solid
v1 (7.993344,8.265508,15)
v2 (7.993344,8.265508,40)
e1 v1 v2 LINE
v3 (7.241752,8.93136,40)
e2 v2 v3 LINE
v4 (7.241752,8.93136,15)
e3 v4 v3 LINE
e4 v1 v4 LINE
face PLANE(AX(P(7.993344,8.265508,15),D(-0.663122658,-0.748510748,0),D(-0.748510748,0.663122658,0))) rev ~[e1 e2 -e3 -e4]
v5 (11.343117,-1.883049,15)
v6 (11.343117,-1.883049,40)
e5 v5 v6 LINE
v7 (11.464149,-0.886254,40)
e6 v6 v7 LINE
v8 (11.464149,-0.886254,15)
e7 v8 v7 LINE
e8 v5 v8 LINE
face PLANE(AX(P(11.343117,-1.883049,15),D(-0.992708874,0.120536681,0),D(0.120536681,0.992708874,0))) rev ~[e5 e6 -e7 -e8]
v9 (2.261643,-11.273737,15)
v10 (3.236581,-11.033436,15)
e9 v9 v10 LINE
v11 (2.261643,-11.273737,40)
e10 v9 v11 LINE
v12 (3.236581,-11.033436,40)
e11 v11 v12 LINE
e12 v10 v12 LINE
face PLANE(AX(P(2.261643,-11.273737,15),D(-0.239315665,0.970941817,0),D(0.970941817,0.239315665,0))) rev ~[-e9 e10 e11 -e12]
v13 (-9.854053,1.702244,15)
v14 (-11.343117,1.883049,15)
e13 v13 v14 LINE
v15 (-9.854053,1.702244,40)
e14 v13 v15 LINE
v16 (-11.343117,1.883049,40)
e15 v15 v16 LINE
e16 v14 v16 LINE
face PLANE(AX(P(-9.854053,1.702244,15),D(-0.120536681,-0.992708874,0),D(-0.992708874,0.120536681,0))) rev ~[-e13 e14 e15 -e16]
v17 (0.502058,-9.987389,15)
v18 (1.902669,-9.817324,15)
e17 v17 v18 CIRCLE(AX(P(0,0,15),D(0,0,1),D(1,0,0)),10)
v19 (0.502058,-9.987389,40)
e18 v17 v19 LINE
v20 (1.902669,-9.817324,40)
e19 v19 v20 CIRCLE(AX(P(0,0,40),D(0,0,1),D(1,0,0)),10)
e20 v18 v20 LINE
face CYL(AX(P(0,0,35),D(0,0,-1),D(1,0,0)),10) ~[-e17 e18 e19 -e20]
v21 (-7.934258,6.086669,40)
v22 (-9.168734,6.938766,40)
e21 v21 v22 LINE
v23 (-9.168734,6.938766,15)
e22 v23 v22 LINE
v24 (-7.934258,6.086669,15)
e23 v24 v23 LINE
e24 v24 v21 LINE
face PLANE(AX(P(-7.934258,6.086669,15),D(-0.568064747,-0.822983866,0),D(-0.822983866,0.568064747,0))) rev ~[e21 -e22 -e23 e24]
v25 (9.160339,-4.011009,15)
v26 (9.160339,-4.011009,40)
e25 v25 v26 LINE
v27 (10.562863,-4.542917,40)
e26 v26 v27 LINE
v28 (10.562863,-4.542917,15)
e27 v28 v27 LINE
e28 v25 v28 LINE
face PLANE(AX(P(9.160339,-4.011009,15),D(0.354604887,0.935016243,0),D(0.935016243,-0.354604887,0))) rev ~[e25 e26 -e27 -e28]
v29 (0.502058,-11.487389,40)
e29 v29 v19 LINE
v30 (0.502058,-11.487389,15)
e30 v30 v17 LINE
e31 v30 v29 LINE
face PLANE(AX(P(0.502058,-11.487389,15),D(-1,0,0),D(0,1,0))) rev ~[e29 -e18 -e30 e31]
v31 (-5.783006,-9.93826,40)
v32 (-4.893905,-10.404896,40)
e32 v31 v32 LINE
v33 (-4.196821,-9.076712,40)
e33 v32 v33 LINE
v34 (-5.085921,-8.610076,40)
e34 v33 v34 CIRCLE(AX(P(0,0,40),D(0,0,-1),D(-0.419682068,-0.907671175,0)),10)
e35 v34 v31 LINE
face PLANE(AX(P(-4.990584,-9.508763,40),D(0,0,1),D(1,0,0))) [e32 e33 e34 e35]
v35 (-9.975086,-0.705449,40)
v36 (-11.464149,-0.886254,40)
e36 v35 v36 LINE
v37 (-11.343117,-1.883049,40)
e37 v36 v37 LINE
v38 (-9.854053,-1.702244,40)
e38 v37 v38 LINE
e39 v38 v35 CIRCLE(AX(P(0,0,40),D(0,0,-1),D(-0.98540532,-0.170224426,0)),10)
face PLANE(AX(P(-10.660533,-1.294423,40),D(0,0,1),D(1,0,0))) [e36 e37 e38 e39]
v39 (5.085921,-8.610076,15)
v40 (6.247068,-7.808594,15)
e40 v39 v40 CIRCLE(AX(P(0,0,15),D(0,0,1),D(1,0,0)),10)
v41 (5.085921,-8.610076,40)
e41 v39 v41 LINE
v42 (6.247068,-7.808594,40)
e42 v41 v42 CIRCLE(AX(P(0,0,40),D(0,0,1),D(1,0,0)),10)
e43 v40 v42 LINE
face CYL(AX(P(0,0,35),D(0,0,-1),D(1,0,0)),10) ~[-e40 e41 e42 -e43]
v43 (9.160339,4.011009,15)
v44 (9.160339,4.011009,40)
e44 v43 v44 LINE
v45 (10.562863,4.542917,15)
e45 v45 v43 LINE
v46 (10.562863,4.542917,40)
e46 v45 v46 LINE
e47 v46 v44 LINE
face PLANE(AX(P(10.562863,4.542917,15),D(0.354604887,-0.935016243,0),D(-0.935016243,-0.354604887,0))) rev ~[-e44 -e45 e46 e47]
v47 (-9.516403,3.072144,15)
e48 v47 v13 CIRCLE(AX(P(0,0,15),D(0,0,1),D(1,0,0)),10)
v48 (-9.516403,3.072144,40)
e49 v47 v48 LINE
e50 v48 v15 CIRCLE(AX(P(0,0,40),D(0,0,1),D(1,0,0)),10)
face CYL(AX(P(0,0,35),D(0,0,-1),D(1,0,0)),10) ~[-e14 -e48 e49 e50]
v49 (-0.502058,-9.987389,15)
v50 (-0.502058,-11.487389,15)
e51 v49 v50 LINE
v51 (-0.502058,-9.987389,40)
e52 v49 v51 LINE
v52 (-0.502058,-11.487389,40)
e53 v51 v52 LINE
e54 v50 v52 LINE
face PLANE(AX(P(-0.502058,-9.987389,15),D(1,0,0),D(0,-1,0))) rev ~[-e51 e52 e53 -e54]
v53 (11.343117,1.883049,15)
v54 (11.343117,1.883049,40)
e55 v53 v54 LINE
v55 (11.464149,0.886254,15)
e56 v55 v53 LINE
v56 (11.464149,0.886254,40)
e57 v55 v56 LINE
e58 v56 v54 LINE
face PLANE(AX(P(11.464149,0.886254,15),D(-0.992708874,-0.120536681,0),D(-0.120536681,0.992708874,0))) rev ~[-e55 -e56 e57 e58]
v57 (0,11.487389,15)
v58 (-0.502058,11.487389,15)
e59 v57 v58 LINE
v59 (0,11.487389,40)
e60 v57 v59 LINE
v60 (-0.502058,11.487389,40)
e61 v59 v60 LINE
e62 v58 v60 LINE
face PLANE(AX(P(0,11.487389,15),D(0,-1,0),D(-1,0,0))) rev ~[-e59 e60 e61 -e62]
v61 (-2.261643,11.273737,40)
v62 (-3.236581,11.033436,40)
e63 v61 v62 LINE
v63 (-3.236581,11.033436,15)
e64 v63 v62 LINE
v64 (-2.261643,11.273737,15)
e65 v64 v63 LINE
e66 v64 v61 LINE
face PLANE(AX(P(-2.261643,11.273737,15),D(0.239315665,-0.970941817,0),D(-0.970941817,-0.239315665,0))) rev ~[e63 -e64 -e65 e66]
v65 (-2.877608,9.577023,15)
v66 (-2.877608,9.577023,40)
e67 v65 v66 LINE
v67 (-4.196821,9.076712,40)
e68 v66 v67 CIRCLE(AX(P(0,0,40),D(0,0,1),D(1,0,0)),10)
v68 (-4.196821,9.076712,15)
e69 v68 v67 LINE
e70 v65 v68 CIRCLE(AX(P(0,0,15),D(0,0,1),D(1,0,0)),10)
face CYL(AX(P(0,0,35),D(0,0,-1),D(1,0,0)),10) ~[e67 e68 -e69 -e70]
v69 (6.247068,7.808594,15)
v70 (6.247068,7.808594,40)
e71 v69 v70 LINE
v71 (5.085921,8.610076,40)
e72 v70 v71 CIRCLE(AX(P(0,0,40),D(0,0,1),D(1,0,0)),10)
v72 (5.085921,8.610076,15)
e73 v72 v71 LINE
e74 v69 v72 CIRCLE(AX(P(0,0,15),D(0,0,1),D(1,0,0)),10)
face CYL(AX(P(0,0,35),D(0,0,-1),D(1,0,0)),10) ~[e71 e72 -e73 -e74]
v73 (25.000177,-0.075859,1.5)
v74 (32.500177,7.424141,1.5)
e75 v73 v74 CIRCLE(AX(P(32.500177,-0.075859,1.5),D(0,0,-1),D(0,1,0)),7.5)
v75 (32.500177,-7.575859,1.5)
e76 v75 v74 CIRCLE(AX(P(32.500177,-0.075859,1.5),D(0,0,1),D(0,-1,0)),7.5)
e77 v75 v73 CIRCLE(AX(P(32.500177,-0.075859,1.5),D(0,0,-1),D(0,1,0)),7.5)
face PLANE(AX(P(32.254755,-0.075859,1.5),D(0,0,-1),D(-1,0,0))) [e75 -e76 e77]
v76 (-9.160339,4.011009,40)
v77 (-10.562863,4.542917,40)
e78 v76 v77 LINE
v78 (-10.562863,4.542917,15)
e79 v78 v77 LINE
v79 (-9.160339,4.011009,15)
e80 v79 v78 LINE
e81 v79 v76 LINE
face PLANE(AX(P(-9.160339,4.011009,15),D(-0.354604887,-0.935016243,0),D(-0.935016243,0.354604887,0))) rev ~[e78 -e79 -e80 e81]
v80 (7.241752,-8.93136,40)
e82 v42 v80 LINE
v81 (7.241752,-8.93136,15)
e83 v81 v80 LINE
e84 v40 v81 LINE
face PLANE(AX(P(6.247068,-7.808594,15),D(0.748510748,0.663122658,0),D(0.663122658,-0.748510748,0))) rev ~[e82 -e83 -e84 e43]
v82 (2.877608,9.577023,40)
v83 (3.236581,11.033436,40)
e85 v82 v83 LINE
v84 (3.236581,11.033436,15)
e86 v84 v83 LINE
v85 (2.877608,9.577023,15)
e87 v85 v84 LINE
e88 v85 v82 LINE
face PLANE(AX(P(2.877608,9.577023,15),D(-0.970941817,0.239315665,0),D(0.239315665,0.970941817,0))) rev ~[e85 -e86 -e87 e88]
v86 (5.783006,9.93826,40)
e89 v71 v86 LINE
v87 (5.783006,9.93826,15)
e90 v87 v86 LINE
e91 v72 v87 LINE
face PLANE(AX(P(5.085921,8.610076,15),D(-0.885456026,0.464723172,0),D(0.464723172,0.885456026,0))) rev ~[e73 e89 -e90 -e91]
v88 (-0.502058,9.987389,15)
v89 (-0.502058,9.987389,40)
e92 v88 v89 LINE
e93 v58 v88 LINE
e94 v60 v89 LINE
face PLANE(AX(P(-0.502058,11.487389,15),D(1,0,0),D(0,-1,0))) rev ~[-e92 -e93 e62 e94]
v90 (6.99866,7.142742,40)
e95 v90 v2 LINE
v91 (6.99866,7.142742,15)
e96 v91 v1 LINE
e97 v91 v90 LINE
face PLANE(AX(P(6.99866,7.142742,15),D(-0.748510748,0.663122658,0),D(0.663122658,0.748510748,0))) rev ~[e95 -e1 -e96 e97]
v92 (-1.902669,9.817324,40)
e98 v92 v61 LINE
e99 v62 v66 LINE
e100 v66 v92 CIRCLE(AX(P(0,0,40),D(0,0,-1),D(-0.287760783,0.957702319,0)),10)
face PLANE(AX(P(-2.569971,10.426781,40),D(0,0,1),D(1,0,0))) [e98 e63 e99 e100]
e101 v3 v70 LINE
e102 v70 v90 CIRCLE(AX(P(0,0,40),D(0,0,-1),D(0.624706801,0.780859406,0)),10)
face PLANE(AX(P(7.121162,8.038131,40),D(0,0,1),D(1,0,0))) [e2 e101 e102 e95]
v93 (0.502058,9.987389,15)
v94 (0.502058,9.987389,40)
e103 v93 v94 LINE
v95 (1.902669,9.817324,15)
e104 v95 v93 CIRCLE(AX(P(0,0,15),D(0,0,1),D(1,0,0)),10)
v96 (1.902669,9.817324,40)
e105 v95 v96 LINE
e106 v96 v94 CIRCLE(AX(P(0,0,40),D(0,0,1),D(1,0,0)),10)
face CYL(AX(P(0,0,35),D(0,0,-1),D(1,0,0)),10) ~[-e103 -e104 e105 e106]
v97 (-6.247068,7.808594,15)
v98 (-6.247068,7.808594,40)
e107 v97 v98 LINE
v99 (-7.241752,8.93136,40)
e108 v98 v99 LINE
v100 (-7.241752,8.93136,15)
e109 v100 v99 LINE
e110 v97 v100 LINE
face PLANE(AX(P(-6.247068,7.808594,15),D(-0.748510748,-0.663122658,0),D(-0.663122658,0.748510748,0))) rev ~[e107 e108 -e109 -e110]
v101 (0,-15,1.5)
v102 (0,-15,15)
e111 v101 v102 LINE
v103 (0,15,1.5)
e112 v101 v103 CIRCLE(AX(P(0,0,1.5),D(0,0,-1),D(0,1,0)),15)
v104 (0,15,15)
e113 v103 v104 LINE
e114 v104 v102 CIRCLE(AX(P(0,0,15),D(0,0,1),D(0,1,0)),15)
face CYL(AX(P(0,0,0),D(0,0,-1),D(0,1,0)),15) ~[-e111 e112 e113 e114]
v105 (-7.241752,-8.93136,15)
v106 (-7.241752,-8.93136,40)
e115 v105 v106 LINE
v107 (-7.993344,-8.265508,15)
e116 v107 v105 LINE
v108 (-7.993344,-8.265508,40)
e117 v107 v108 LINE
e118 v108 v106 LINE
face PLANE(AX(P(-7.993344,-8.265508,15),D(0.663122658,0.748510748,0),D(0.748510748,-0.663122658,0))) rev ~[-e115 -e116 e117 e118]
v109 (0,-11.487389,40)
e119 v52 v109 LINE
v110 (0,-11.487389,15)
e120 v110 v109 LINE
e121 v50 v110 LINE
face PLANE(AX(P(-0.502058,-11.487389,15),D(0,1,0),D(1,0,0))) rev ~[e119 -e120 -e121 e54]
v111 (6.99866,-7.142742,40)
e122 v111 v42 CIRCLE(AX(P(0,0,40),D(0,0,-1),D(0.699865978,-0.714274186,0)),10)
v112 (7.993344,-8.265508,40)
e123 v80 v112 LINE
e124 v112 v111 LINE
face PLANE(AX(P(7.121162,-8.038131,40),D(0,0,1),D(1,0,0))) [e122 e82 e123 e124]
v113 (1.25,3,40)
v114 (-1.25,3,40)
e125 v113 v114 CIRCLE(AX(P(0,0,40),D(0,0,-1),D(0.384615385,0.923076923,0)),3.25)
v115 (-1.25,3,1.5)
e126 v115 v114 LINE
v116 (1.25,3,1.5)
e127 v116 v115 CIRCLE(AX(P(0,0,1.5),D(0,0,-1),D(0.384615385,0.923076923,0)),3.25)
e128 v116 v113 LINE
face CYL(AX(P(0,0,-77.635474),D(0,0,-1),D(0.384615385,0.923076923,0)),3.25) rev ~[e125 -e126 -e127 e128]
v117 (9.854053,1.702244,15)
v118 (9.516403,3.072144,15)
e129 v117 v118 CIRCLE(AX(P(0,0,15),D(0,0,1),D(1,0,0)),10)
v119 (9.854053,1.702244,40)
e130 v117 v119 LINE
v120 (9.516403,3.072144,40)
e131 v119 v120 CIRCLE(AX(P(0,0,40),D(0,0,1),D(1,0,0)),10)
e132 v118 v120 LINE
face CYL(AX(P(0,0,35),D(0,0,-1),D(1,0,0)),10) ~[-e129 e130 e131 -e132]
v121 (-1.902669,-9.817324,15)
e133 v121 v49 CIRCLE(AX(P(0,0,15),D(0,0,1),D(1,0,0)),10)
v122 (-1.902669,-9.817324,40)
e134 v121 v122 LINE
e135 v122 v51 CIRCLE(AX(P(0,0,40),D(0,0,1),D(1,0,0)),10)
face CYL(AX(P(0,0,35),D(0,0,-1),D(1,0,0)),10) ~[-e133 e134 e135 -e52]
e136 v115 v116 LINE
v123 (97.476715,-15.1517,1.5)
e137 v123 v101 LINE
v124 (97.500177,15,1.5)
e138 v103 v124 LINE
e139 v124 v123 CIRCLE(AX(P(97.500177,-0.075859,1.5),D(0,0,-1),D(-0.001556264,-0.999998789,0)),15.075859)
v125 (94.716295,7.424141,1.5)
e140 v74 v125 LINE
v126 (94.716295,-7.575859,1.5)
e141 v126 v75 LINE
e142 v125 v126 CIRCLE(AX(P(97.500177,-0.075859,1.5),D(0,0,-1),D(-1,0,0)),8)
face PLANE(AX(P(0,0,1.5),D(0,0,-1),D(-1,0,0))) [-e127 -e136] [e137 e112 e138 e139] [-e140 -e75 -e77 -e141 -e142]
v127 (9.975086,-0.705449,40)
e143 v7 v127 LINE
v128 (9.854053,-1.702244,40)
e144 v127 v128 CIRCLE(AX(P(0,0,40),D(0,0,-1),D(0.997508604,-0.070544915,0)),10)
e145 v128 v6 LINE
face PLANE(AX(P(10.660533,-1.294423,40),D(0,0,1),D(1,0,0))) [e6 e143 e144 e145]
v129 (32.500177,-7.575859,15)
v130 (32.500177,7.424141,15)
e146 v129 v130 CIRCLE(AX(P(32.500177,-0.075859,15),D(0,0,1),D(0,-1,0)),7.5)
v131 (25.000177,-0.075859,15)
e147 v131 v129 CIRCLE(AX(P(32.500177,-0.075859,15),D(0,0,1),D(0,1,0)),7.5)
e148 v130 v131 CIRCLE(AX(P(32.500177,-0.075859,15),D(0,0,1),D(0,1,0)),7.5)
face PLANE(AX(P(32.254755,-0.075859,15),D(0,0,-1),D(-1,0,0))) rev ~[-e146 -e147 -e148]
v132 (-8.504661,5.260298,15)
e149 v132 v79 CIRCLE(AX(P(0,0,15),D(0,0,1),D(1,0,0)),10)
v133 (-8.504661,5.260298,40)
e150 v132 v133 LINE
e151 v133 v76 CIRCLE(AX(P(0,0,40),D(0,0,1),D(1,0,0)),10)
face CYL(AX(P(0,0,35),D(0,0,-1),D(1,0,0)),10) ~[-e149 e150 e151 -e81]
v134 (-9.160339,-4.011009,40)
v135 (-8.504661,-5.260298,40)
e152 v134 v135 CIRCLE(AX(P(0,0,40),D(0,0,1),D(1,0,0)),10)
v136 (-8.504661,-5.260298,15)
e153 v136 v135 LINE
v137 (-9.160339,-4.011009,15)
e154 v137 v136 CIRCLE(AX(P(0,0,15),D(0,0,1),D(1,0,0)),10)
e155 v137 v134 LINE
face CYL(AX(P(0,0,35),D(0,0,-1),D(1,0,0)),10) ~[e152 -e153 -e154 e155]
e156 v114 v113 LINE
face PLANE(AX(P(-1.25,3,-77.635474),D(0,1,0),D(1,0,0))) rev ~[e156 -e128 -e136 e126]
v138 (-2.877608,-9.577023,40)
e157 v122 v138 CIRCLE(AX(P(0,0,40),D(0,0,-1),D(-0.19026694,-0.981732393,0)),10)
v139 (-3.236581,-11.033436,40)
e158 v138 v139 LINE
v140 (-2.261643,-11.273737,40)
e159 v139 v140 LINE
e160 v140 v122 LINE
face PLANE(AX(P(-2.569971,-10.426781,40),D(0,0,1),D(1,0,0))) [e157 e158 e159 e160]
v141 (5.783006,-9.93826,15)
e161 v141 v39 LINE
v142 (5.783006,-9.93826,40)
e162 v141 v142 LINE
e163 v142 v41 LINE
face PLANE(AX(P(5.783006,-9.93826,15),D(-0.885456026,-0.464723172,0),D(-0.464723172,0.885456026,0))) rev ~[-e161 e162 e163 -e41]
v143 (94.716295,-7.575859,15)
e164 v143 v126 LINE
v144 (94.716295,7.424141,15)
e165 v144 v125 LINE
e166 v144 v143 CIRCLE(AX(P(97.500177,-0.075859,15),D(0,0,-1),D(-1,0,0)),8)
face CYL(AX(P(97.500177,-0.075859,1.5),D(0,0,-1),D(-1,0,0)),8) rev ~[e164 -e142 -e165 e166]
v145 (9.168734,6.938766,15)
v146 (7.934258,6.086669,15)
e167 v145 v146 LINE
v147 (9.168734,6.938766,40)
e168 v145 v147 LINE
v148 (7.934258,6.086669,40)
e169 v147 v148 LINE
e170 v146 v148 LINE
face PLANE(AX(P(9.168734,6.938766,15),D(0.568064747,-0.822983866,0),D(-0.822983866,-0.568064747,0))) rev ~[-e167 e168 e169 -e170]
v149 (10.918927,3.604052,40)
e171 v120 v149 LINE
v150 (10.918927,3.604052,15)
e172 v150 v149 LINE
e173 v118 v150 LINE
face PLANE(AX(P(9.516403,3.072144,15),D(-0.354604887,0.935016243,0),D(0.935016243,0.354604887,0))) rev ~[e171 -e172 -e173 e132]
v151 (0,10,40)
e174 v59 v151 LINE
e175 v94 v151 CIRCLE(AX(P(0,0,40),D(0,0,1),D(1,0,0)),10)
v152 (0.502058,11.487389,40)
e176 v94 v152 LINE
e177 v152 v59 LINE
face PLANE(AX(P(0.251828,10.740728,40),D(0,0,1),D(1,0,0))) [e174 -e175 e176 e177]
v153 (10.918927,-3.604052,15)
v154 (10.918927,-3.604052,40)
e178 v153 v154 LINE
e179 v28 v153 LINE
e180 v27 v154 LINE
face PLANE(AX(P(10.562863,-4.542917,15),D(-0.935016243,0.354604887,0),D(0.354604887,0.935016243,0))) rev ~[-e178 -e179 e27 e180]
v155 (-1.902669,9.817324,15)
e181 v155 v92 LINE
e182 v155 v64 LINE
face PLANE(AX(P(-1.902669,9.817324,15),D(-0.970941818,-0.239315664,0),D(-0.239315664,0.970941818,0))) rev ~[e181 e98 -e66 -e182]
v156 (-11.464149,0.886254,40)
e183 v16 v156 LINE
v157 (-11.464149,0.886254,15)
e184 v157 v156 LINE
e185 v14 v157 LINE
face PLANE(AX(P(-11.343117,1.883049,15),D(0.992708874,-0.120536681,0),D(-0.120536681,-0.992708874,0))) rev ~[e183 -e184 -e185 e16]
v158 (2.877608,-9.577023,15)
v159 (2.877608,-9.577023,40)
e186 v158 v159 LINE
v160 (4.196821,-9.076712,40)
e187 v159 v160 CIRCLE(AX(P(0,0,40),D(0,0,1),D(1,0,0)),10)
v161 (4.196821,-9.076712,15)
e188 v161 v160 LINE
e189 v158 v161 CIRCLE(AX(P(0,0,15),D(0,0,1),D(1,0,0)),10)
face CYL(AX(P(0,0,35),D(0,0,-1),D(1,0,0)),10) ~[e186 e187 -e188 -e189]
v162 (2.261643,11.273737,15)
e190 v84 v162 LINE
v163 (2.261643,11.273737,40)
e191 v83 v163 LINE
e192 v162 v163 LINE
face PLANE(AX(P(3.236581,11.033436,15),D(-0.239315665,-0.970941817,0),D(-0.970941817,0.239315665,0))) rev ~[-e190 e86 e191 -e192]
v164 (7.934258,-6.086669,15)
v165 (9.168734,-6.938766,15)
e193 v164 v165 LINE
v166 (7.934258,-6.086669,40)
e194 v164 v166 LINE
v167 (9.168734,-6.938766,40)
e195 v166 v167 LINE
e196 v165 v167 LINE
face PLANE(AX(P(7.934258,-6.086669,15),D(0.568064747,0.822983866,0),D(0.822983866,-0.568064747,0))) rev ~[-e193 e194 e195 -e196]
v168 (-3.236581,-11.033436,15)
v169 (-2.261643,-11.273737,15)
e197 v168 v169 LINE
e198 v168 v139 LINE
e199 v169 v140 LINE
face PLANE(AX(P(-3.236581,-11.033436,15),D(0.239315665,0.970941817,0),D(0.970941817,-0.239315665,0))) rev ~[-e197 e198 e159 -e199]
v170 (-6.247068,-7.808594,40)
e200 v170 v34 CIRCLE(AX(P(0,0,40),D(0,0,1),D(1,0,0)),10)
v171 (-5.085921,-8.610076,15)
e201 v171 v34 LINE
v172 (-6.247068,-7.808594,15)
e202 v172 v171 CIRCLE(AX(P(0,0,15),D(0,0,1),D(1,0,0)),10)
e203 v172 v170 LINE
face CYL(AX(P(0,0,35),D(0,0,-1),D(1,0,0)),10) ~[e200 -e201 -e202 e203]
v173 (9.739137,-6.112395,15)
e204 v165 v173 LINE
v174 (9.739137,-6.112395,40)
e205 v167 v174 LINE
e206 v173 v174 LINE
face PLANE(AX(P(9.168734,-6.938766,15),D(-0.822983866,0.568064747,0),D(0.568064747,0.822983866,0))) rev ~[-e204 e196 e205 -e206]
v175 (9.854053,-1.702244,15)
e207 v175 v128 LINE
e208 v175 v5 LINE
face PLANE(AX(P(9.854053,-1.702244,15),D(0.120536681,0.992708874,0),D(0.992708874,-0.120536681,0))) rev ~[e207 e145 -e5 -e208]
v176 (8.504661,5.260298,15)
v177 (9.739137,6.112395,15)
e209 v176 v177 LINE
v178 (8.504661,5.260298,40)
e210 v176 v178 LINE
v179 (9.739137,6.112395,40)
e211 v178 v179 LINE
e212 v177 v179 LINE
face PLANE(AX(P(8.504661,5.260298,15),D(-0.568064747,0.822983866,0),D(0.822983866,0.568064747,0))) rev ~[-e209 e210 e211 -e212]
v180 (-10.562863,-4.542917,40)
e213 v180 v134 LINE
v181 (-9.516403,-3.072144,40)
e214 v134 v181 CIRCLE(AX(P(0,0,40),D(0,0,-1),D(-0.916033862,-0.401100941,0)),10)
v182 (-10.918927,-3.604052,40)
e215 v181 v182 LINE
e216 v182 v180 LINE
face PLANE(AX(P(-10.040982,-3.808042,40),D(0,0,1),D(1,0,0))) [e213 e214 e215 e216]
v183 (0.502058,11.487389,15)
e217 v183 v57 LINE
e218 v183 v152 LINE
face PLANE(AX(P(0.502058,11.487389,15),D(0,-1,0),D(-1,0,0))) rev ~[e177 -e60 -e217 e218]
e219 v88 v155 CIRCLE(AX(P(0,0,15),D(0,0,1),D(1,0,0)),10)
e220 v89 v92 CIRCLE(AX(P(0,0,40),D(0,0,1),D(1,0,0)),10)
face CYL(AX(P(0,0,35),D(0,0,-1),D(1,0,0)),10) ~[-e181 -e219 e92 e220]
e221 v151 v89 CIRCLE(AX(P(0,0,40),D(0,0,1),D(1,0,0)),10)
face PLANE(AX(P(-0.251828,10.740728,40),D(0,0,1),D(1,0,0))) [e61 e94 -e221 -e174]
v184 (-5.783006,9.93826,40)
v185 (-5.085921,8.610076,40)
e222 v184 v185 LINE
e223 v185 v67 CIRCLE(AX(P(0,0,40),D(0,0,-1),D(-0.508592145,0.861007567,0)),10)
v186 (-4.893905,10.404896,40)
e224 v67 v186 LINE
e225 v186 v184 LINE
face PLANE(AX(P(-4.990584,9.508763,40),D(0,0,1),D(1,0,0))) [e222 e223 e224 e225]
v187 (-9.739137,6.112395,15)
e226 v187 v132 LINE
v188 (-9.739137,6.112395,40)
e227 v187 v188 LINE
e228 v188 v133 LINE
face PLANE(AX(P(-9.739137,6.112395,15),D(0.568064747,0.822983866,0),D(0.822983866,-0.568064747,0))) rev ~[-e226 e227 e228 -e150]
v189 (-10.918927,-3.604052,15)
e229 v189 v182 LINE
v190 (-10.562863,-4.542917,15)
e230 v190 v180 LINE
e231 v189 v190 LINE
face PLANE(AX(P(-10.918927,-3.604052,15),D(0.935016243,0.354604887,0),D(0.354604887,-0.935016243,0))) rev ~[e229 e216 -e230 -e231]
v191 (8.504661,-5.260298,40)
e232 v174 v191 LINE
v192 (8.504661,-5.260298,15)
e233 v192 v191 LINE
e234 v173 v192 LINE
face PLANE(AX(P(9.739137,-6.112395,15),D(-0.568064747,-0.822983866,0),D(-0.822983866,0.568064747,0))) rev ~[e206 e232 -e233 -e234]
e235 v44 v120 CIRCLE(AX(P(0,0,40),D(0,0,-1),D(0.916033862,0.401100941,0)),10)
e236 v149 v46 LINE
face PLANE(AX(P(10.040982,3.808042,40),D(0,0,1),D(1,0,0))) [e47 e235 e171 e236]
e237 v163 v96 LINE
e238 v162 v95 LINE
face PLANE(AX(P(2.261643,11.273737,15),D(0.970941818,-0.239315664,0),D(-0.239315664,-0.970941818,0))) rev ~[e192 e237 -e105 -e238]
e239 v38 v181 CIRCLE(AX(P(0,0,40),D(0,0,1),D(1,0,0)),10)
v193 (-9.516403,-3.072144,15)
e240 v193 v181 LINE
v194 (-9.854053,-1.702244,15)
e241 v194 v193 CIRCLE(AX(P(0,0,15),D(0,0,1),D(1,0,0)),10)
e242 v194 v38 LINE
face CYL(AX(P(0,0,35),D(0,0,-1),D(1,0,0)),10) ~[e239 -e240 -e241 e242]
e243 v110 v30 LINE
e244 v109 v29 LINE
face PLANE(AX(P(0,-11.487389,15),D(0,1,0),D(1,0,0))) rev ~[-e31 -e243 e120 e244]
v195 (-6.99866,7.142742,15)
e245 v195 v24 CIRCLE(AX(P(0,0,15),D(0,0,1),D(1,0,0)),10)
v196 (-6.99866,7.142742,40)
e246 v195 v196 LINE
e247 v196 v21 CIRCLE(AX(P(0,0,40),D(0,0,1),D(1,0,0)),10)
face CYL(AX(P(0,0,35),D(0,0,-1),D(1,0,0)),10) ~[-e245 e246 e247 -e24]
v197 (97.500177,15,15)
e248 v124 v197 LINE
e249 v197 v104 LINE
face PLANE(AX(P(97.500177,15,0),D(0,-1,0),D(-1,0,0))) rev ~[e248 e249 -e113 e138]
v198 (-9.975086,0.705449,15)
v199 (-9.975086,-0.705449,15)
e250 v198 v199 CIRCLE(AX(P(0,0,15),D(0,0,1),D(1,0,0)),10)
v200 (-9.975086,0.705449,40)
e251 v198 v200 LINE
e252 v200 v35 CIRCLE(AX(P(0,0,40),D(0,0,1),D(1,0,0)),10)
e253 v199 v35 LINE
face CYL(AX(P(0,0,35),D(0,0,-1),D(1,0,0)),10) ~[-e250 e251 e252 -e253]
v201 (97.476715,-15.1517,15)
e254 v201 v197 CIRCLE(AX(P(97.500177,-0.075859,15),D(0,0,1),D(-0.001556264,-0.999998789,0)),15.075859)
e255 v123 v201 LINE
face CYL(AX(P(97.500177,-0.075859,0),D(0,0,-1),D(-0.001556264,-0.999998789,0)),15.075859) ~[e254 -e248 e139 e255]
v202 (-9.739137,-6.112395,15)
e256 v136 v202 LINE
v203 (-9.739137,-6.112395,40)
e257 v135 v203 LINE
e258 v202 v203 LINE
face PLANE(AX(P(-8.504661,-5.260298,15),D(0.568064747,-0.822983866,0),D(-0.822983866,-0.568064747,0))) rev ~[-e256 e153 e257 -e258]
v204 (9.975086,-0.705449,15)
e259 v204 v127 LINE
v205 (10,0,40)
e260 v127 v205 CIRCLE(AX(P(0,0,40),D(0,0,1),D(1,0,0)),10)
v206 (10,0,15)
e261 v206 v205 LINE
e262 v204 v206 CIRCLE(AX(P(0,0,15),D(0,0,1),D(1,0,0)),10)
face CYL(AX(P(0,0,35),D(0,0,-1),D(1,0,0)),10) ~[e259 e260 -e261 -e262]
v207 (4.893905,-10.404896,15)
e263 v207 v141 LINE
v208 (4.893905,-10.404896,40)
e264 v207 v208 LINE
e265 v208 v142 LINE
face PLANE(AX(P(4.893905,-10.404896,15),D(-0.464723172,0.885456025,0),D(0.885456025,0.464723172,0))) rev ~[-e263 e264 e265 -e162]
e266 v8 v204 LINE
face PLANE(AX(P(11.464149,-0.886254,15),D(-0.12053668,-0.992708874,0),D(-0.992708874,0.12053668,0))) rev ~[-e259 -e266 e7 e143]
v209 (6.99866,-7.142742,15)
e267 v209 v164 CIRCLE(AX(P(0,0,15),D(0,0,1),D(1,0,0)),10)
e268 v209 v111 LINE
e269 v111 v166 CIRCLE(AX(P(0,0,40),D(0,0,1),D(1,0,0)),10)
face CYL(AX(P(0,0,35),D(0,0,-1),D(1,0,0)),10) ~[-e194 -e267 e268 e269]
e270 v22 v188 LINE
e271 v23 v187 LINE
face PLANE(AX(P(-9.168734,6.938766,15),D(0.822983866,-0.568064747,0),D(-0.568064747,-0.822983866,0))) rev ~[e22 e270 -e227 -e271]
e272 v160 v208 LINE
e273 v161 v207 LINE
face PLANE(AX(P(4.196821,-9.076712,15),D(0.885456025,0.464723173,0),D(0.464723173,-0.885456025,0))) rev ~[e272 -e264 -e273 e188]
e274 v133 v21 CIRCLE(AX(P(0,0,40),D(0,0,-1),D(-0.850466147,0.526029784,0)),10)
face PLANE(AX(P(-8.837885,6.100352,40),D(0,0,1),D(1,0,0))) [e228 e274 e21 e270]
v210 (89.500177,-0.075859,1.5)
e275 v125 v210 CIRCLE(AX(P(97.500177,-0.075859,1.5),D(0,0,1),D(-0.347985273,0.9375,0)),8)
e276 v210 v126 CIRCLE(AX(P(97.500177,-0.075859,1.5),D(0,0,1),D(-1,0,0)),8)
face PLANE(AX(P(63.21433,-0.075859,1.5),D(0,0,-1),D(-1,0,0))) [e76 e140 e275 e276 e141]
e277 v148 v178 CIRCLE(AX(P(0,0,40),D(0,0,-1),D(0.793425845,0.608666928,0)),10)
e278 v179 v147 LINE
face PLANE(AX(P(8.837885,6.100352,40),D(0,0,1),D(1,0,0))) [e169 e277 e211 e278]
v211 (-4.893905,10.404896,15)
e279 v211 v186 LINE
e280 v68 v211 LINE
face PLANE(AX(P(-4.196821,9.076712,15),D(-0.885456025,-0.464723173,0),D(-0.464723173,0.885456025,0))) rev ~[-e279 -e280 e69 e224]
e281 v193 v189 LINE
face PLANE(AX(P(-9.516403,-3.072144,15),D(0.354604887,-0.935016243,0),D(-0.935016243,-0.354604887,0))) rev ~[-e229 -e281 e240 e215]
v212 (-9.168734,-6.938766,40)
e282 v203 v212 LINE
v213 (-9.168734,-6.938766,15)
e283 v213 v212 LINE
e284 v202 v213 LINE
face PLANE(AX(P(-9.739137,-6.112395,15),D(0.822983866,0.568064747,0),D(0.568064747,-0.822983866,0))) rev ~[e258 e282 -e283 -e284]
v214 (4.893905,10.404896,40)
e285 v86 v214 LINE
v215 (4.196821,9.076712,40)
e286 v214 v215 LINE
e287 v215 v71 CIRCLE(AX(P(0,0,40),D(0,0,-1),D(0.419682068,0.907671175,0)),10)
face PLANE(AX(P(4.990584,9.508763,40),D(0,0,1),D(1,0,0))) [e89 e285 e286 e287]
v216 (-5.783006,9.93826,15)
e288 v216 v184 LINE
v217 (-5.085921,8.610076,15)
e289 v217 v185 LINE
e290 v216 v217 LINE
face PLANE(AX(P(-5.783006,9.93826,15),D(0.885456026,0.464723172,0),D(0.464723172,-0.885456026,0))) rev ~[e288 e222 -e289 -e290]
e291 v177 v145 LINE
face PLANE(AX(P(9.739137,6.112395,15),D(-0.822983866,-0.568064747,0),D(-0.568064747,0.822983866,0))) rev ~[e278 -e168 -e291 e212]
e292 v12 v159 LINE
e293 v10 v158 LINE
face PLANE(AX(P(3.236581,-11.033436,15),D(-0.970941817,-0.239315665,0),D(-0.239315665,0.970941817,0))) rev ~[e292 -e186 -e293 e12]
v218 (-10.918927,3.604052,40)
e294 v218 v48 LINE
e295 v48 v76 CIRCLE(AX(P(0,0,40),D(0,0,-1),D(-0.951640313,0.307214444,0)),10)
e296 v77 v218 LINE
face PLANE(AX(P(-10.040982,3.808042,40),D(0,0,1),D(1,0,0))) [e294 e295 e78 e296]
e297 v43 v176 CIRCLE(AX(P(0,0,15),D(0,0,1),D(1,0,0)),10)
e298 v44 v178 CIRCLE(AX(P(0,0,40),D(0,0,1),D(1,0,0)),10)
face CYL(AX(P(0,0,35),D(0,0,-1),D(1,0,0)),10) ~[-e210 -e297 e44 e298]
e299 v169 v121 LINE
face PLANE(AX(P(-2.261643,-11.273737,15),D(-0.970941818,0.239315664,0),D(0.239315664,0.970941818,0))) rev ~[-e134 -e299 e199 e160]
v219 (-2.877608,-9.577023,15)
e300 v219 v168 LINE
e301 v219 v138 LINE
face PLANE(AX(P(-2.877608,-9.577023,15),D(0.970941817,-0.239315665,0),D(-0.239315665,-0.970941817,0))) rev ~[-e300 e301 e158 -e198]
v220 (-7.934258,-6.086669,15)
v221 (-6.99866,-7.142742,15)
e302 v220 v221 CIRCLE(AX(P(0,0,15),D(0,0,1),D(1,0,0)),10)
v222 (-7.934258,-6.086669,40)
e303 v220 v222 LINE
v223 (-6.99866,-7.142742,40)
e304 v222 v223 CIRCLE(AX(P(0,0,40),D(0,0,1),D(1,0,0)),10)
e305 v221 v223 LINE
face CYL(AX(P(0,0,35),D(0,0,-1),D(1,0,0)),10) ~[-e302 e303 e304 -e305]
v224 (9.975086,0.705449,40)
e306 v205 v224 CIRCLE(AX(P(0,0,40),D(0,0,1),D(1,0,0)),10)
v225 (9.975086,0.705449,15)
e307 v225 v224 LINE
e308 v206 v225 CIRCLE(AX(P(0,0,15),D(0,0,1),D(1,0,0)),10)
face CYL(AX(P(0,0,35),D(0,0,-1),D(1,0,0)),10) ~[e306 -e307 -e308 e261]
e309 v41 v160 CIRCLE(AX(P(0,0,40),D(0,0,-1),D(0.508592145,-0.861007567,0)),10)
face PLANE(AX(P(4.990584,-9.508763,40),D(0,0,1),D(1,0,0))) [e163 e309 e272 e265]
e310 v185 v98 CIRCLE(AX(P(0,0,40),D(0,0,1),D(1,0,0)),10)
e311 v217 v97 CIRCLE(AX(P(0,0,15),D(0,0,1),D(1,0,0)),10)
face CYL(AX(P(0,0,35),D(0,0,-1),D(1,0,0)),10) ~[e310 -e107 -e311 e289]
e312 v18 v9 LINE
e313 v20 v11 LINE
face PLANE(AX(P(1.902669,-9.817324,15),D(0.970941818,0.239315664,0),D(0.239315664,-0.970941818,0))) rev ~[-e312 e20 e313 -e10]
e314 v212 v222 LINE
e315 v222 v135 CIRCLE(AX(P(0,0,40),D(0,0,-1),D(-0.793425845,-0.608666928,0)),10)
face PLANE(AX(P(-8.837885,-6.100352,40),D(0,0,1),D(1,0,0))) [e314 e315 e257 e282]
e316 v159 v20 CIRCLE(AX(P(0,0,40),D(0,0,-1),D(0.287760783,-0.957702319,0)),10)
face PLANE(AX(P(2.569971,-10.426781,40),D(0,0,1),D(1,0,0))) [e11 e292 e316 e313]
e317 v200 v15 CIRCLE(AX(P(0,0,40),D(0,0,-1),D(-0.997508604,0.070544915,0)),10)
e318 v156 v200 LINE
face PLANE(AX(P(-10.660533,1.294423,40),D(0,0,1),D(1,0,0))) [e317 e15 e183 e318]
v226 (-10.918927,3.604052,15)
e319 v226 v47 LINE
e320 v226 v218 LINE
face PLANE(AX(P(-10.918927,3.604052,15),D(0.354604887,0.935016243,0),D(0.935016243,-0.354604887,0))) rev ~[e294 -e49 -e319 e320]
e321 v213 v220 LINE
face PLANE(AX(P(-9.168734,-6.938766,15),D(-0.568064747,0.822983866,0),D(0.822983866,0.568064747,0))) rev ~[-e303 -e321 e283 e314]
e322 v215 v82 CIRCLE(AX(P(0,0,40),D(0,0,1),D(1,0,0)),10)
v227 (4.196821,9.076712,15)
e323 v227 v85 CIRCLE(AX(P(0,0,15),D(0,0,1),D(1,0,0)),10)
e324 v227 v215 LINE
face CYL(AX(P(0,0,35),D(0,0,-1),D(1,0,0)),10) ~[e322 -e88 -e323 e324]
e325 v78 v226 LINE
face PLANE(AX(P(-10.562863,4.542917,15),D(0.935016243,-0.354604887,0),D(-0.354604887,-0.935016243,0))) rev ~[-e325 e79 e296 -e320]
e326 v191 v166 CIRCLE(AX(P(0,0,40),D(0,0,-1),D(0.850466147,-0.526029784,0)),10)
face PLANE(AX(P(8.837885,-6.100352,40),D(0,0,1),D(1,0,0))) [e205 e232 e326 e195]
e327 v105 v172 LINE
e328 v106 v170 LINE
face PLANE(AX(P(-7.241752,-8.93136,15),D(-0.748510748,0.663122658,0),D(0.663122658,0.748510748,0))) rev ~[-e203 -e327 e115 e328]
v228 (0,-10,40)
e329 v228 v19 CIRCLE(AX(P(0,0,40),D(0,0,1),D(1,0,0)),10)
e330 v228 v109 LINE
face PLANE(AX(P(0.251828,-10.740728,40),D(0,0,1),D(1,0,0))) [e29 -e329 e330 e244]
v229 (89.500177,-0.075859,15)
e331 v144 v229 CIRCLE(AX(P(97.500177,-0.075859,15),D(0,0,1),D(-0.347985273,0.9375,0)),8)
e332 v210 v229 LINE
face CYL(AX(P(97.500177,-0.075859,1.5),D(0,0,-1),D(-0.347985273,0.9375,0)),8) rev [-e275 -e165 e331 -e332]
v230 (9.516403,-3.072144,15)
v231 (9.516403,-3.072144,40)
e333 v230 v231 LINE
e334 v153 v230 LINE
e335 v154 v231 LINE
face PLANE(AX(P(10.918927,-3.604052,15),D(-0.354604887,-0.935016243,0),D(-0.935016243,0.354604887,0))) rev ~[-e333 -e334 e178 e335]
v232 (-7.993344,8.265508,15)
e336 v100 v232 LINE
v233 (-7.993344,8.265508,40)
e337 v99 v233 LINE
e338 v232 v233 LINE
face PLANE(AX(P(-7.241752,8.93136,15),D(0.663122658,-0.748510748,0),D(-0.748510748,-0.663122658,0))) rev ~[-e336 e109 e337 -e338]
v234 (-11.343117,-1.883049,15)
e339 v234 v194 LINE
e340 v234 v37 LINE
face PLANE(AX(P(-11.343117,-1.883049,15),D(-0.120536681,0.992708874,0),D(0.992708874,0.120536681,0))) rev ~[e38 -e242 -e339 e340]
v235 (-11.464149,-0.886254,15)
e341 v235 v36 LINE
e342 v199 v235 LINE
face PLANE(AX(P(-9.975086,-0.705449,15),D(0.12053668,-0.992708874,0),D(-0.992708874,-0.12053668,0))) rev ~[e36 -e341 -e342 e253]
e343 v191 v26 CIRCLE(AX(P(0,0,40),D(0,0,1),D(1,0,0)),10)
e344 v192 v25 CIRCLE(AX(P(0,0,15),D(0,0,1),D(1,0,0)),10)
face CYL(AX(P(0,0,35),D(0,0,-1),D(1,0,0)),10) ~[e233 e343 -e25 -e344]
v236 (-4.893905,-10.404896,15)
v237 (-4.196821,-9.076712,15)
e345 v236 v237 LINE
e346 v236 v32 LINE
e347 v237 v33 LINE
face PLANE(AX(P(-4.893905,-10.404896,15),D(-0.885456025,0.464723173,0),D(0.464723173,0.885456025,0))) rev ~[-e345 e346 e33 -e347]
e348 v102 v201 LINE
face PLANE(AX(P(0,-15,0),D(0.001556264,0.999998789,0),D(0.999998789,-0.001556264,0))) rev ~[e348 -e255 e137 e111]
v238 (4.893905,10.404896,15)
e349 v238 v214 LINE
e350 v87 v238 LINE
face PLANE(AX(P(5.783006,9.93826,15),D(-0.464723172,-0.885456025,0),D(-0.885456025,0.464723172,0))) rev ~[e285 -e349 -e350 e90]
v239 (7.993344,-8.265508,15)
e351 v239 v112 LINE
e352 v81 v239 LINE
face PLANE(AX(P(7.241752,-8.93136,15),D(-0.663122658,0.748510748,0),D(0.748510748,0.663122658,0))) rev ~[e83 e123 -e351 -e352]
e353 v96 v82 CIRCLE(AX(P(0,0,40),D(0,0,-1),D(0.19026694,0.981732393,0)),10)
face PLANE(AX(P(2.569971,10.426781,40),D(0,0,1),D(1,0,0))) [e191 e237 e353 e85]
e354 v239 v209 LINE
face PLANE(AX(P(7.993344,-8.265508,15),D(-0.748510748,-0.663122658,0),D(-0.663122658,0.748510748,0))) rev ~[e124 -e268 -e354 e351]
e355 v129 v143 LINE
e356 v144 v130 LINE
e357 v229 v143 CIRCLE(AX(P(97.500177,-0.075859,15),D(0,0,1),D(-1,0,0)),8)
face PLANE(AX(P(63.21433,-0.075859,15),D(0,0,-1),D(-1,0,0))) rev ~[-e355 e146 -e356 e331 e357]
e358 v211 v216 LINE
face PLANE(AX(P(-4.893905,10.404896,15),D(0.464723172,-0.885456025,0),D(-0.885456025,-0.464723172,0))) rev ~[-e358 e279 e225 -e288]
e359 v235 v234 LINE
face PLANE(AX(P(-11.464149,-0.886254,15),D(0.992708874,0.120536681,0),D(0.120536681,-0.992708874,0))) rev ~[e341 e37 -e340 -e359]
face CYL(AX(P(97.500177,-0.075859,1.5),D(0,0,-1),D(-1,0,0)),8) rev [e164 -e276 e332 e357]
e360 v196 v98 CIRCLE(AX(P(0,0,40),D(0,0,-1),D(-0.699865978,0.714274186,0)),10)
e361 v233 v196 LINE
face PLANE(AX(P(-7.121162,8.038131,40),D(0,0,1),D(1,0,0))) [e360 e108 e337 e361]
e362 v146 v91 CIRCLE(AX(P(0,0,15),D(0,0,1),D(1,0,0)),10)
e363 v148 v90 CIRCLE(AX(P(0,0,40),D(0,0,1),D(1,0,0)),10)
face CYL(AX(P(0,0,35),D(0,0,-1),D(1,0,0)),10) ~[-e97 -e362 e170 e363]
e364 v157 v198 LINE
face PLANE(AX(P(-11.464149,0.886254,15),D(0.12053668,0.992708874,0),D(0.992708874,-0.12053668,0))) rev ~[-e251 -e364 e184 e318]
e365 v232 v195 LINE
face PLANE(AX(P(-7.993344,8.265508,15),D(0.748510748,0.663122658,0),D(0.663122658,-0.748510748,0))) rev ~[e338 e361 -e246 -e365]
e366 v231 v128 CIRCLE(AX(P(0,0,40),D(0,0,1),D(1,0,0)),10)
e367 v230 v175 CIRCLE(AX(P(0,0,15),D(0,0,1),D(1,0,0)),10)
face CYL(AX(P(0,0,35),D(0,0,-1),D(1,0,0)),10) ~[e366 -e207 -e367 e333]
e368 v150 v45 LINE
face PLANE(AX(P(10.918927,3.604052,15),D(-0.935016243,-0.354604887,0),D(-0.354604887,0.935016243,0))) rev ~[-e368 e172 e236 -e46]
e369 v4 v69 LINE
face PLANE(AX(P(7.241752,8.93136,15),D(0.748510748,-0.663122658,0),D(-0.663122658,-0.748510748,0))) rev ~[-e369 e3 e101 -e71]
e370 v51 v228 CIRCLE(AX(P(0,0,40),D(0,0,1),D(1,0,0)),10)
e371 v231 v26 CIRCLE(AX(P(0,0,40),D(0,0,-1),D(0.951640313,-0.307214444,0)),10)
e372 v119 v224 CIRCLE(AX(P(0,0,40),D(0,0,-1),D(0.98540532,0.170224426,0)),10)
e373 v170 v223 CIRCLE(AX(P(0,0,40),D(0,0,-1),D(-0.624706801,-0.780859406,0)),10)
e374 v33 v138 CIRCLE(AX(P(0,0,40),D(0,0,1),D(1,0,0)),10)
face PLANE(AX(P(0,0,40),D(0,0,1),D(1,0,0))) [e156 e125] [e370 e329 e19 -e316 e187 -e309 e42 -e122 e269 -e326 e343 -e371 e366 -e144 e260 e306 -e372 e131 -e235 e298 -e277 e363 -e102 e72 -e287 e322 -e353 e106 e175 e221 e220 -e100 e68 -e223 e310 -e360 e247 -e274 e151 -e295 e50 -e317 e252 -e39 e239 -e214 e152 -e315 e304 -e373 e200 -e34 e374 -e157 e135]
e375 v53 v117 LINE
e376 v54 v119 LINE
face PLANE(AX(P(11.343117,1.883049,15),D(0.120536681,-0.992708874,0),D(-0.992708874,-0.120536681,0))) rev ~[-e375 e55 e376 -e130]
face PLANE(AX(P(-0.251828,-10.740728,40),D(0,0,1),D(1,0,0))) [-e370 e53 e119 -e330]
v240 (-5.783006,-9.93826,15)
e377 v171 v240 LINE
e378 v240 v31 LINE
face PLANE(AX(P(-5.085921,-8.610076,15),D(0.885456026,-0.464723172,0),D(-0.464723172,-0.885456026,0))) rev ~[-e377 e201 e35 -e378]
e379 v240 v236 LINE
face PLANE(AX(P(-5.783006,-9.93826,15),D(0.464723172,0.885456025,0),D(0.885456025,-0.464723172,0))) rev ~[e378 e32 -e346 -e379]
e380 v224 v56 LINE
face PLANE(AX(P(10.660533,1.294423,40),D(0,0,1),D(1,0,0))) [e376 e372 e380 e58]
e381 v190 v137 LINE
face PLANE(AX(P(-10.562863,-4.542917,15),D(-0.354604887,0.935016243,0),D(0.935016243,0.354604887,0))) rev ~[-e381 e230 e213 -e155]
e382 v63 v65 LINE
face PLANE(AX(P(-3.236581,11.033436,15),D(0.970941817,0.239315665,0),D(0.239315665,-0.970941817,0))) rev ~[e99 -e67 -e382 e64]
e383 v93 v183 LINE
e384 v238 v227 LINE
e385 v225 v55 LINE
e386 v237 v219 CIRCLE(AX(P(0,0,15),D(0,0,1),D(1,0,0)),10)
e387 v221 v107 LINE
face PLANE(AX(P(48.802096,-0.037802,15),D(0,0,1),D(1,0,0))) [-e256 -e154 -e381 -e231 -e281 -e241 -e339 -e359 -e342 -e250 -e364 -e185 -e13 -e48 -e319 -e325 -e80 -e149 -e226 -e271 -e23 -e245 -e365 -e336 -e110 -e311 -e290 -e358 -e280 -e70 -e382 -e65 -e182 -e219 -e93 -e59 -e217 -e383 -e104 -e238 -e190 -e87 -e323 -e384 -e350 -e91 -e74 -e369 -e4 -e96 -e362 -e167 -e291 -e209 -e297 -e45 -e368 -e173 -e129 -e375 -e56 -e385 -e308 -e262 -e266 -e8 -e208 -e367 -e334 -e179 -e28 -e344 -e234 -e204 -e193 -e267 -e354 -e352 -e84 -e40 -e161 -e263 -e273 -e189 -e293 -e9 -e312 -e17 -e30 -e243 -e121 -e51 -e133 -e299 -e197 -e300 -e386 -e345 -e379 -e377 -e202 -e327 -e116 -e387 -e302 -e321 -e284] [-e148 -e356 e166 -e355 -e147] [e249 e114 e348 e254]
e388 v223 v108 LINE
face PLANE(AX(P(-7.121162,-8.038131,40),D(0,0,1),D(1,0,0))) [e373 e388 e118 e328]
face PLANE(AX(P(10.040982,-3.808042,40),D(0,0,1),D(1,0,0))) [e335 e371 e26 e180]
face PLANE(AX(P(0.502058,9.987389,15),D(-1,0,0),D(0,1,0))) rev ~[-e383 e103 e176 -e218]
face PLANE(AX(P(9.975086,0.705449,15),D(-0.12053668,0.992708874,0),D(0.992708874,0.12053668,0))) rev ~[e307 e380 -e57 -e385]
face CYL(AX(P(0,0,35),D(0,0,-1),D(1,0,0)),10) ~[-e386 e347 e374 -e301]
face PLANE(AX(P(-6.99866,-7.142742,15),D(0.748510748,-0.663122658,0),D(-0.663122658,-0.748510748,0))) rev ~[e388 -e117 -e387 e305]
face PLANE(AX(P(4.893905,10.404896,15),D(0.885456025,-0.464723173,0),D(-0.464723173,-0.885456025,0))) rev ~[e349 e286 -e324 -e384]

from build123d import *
from build123d.topology import SkipClean

# Parameters (mm, degrees)
BOSS_EXTRUDE1_DEPTH     = 15
SKETCH2_R               = 10
SKETCH2_R_2             = 2.575
BOSS_EXTRUDE2_DEPTH     = 20
SKETCH4_W               = 241.678854034
SKETCH4_H               = 67.941669626
CUT_EXTRUDE2_DEPTH      = 1.5
SKETCH5_R               = 10
SKETCH5_R_2             = 2.575
BOSS_EXTRUDE3_DEPTH     = 10
SKETCH6_R               = 8
CUT_EXTRUDE3_DEPTH      = 122.635473657
BOSS_EXTRUDE4_DEPTH     = 13.5
CUT_EXTRUDE4_DEPTH      = 122.635473657
CUT_EXTRUDE4_DEPTH_BACK = 122.635473657
CUT_EXTRUDE5_START      = -5
SKETCH11_R              = 10
CUT_EXTRUDE5_DEPTH      = 5
BOSS_EXTRUDE5_START     = -25
BOSS_EXTRUDE5_DEPTH     = 25


with BuildPart() as part:
    # Sketch1 → Boss-Extrude1 (new body)
    with BuildSketch(Plane.XY):
        with BuildLine():
            Line((0, -15), (97.476715067, -15.151699694))
            ThreePointArc((97.476715067, -15.151699694), (112.576031495, -0.087589988), (97.500177084, 15))
            Line((97.500177084, 15), (0, 15))
            ThreePointArc((0, 15), (-15, 0), (0, -15))
        make_face()
        with BuildLine():
            ThreePointArc((32.500177084, 7.424141025), (25.000177084, -0.075858975), (32.500177084, -7.575858975))
            Line((32.500177084, -7.575858975), (97.500177084, -7.575858975))
            ThreePointArc((97.500177084, -7.575858975), (105.000177084, -0.075858975), (97.500177084, 7.424141025))
            Line((97.500177084, 7.424141025), (32.500177084, 7.424141025))
        make_face(mode=Mode.SUBTRACT)
    extrude(amount=BOSS_EXTRUDE1_DEPTH)

    # Sketch2 → Boss-Extrude2 (add)
    with BuildSketch(Plane.XY.offset(15)):
        Circle(SKETCH2_R)
        Circle(SKETCH2_R_2, mode=Mode.SUBTRACT)
    extrude(amount=BOSS_EXTRUDE2_DEPTH)

    # Sketch4 → Cut-Extrude2 (cut)
    with BuildSketch(Plane(origin=(0, 0, 0), x_dir=(-1, 0, 0), z_dir=(0, 0, -1))):
        Rectangle(SKETCH4_W, SKETCH4_H)
    extrude(amount=-CUT_EXTRUDE2_DEPTH, mode=Mode.SUBTRACT)

    # Sketch5 → Boss-Extrude3 (add)
    with BuildSketch(Plane.XY.offset(35)):
        Circle(SKETCH5_R)
        Circle(SKETCH5_R_2, mode=Mode.SUBTRACT)
    extrude(amount=BOSS_EXTRUDE3_DEPTH)

    # Sketch6 → Cut-Extrude3 (cut, through all)
    with BuildSketch(Plane(origin=(0, 0, 1.5), x_dir=(-1, 0, 0), z_dir=(0, 0, -1))):
        with Locations((-97.500177084, -0.075858975)):
            Circle(SKETCH6_R)
    extrude(amount=-CUT_EXTRUDE3_DEPTH, mode=Mode.SUBTRACT)

    # Sketch7 → Boss-Extrude4 (add)
    with SkipClean():  # the faces are left unmerged after this step: merging them gives an invalid solid
        with BuildSketch(Plane(origin=(0, 0, 1.5), x_dir=(-1, 0, 0), z_dir=(0, 0, -1))):
            with BuildLine():
                Line((-32.500177084, 7.424141025), (-94.716294903, 7.424141025))
                ThreePointArc((-94.716294903, 7.424141025), (-90.932412721, 4.491905388), (-89.500177084, -0.075858975))
                ThreePointArc((-89.500177084, -0.075858975), (-90.932412721, -4.643623338), (-94.716294903, -7.575858975))
                Line((-94.716294903, -7.575858975), (-32.500177084, -7.575858975))
                ThreePointArc((-32.500177084, -7.575858975), (-40.000177084, -0.075858975), (-32.500177084, 7.424141025))
            make_face()
            with BuildLine():
                ThreePointArc((-25.000177084, -0.075858975), (-27.196876225, 5.227441884), (-32.500177084, 7.424141025))
                ThreePointArc((-32.500177084, 7.424141025), (-40.000177084, -0.075858975), (-32.500177084, -7.575858975))
                ThreePointArc((-32.500177084, -7.575858975), (-27.196876225, -5.379159834), (-25.000177084, -0.075858975))
            make_face()
        extrude(amount=-BOSS_EXTRUDE4_DEPTH)

    # Sketch9 → Cut-Extrude4 (cut, two sides: drawn at the far end of the back side and taken through both)
    with SkipClean():  # the faces are left unmerged after this step: merging them gives an invalid solid
        with BuildSketch(Plane.XY.offset(45).offset(-CUT_EXTRUDE4_DEPTH_BACK)):
            with BuildLine():
                Line((-1.25, 3), (1.25, 3))
                ThreePointArc((1.25, 3), (0, -3.25), (-1.25, 3))
            make_face()
        extrude(amount=CUT_EXTRUDE4_DEPTH + CUT_EXTRUDE4_DEPTH_BACK, mode=Mode.SUBTRACT)

    # Sketch11 → Cut-Extrude5 (cut)
    with SkipClean():  # the faces are left unmerged after this step: merging them gives an invalid solid
        with BuildSketch(Plane.XY.offset(45).offset(CUT_EXTRUDE5_START)):
            Circle(SKETCH11_R)
        extrude(amount=CUT_EXTRUDE5_DEPTH, mode=Mode.SUBTRACT)

    # Sketch12 → Boss-Extrude5 (add)
    with SkipClean():  # the faces are left unmerged after this step: merging them gives an invalid solid
        with BuildSketch(Plane.XY.offset(40).offset(BOSS_EXTRUDE5_START)):
            with BuildLine():
                ThreePointArc((-6.998659787, 7.142741854), (-6.631226582, 7.485107482), (-6.247068007, 7.808594068))
                Line((-6.247068007, 7.808594068), (-7.241751994, 8.93136019))
                Line((-7.241751994, 8.93136019), (-7.993343774, 8.265507976))
                Line((-7.993343774, 8.265507976), (-6.998659787, 7.142741854))
            make_face()
            with BuildLine():
                ThreePointArc((-8.504661464, 5.260297841), (-8.229838659, 5.680647467), (-7.934258441, 6.086669286))
                Line((-7.934258441, 6.086669286), (-9.168734239, 6.938766406))
                Line((-9.168734239, 6.938766406), (-9.739137263, 6.112394961))
                Line((-9.739137263, 6.112394961), (-8.504661464, 5.260297841))
            make_face()
            with BuildLine():
                ThreePointArc((-9.516403131, 3.072144438), (-9.350162427, 3.54604887), (-9.160338614, 4.011009409))
                Line((-9.160338614, 4.011009409), (-10.562862978, 4.54291674))
                Line((-10.562862978, 4.54291674), (-10.918927495, 3.604051769))
                Line((-10.918927495, 3.604051769), (-9.516403131, 3.072144438))
            make_face()
            with BuildLine():
                ThreePointArc((-9.975086038, 0.705449167), (-9.927088741, 1.205366803), (-9.854053203, 1.702244245))
                Line((-9.854053203, 1.702244245), (-11.343116514, 1.883049266))
                Line((-11.343116514, 1.883049266), (-11.46414935, 0.886254187))
                Line((-11.46414935, 0.886254187), (-9.975086038, 0.705449167))
            make_face()
            with BuildLine():
                Line((-11.343116514, -1.883049266), (-9.854053203, -1.702244245))
                ThreePointArc((-9.854053203, -1.702244245), (-9.927088741, -1.205366803), (-9.975086038, -0.705449167))
                Line((-9.975086038, -0.705449167), (-11.46414935, -0.886254187))
                Line((-11.46414935, -0.886254187), (-11.343116514, -1.883049266))
            make_face()
            with BuildLine():
                Line((-10.562862978, -4.54291674), (-9.160338614, -4.011009409))
                ThreePointArc((-9.160338614, -4.011009409), (-9.350162427, -3.54604887), (-9.516403131, -3.072144438))
                Line((-9.516403131, -3.072144438), (-10.918927495, -3.604051769))
                Line((-10.918927495, -3.604051769), (-10.562862978, -4.54291674))
            make_face()
            with BuildLine():
                Line((-9.168734239, -6.938766406), (-7.934258441, -6.086669286))
                ThreePointArc((-7.934258441, -6.086669286), (-8.229838659, -5.680647467), (-8.504661464, -5.260297841))
                Line((-8.504661464, -5.260297841), (-9.739137263, -6.112394961))
                Line((-9.739137263, -6.112394961), (-9.168734239, -6.938766406))
            make_face()
            with BuildLine():
                Line((-7.241751994, -8.93136019), (-6.247068007, -7.808594068))
                ThreePointArc((-6.247068007, -7.808594068), (-6.631226582, -7.485107482), (-6.998659787, -7.142741854))
                Line((-6.998659787, -7.142741854), (-7.993343774, -8.265507976))
                Line((-7.993343774, -8.265507976), (-7.241751994, -8.93136019))
            make_face()
            with BuildLine():
                Line((-4.893905446, -10.404895784), (-4.196820687, -9.076711746))
                ThreePointArc((-4.196820687, -9.076711746), (-4.64723172, -8.854560257), (-5.085921441, -8.610075673))
                Line((-5.085921441, -8.610075673), (-5.783006199, -9.938259711))
                Line((-5.783006199, -9.938259711), (-4.893905446, -10.404895784))
            make_face()
            with BuildLine():
                Line((-2.261642901, -11.273736656), (-1.902669405, -9.817323929))
                ThreePointArc((-1.902669405, -9.817323929), (-2.393156643, -9.709418174), (-2.877607828, -9.57702319))
                Line((-2.877607828, -9.57702319), (-3.236581325, -11.033435916))
                Line((-3.236581325, -11.033435916), (-2.261642901, -11.273736656))
            make_face()
            with BuildLine():
                ThreePointArc((0.502058108, -9.987388931), (0.251108235, -9.996846736), (0, -10))
                Line((0, -10), (0, -11.487388931))
                Line((0, -11.487388931), (0.502058108, -11.487388931))
                Line((0.502058108, -11.487388931), (0.502058108, -9.987388931))
            make_face()
            with BuildLine():
                Line((0, -11.487388931), (0, -10))
                ThreePointArc((0, -10), (-0.251108235, -9.996846736), (-0.502058108, -9.987388931))
                Line((-0.502058108, -9.987388931), (-0.502058108, -11.487388931))
                Line((-0.502058108, -11.487388931), (0, -11.487388931))
            make_face()
            with BuildLine():
                ThreePointArc((2.877607828, -9.57702319), (2.393156643, -9.709418174), (1.902669405, -9.817323929))
                Line((1.902669405, -9.817323929), (2.261642901, -11.273736656))
                Line((2.261642901, -11.273736656), (3.236581325, -11.033435916))
                Line((3.236581325, -11.033435916), (2.877607828, -9.57702319))
            make_face()
            with BuildLine():
                ThreePointArc((5.085921441, -8.610075673), (4.64723172, -8.854560257), (4.196820687, -9.076711746))
                Line((4.196820687, -9.076711746), (4.893905446, -10.404895784))
                Line((4.893905446, -10.404895784), (5.783006199, -9.938259711))
                Line((5.783006199, -9.938259711), (5.085921441, -8.610075673))
            make_face()
            with BuildLine():
                ThreePointArc((6.998659787, -7.142741854), (6.631226582, -7.485107482), (6.247068007, -7.808594068))
                Line((6.247068007, -7.808594068), (7.241751994, -8.93136019))
                Line((7.241751994, -8.93136019), (7.993343774, -8.265507976))
                Line((7.993343774, -8.265507976), (6.998659787, -7.142741854))
            make_face()
            with BuildLine():
                ThreePointArc((8.504661464, -5.260297841), (8.229838659, -5.680647467), (7.934258441, -6.086669286))
                Line((7.934258441, -6.086669286), (9.168734239, -6.938766406))
                Line((9.168734239, -6.938766406), (9.739137263, -6.112394961))
                Line((9.739137263, -6.112394961), (8.504661464, -5.260297841))
            make_face()
            with BuildLine():
                ThreePointArc((9.516403131, -3.072144438), (9.350162427, -3.54604887), (9.160338614, -4.011009409))
                Line((9.160338614, -4.011009409), (10.562862978, -4.54291674))
                Line((10.562862978, -4.54291674), (10.918927495, -3.604051769))
                Line((10.918927495, -3.604051769), (9.516403131, -3.072144438))
            make_face()
            with BuildLine():
                ThreePointArc((9.975086038, -0.705449167), (9.927088741, -1.205366803), (9.854053203, -1.702244245))
                Line((9.854053203, -1.702244245), (11.343116514, -1.883049266))
                Line((11.343116514, -1.883049266), (11.46414935, -0.886254187))
                Line((11.46414935, -0.886254187), (9.975086038, -0.705449167))
            make_face()
            with BuildLine():
                Line((11.343116514, 1.883049266), (9.854053203, 1.702244245))
                ThreePointArc((9.854053203, 1.702244245), (9.927088741, 1.205366803), (9.975086038, 0.705449167))
                Line((9.975086038, 0.705449167), (11.46414935, 0.886254187))
                Line((11.46414935, 0.886254187), (11.343116514, 1.883049266))
            make_face()
            with BuildLine():
                Line((10.562862978, 4.54291674), (9.160338614, 4.011009409))
                ThreePointArc((9.160338614, 4.011009409), (9.350162427, 3.54604887), (9.516403131, 3.072144438))
                Line((9.516403131, 3.072144438), (10.918927495, 3.604051769))
                Line((10.918927495, 3.604051769), (10.562862978, 4.54291674))
            make_face()
            with BuildLine():
                Line((9.168734239, 6.938766406), (7.934258441, 6.086669286))
                ThreePointArc((7.934258441, 6.086669286), (8.229838659, 5.680647467), (8.504661464, 5.260297841))
                Line((8.504661464, 5.260297841), (9.739137263, 6.112394961))
                Line((9.739137263, 6.112394961), (9.168734239, 6.938766406))
            make_face()
            with BuildLine():
                Line((7.241751994, 8.93136019), (6.247068007, 7.808594068))
                ThreePointArc((6.247068007, 7.808594068), (6.631226582, 7.485107482), (6.998659787, 7.142741854))
                Line((6.998659787, 7.142741854), (7.993343774, 8.265507976))
                Line((7.993343774, 8.265507976), (7.241751994, 8.93136019))
            make_face()
            with BuildLine():
                Line((4.893905446, 10.404895784), (4.196820687, 9.076711746))
                ThreePointArc((4.196820687, 9.076711746), (4.64723172, 8.854560257), (5.085921441, 8.610075673))
                Line((5.085921441, 8.610075673), (5.783006199, 9.938259711))
                Line((5.783006199, 9.938259711), (4.893905446, 10.404895784))
            make_face()
            with BuildLine():
                Line((2.261642901, 11.273736656), (1.902669405, 9.817323929))
                ThreePointArc((1.902669405, 9.817323929), (2.393156643, 9.709418174), (2.877607828, 9.57702319))
                Line((2.877607828, 9.57702319), (3.236581325, 11.033435916))
                Line((3.236581325, 11.033435916), (2.261642901, 11.273736656))
            make_face()
            with BuildLine():
                Line((0.502058108, 11.487388931), (0, 11.487388931))
                Line((0, 11.487388931), (0, 10))
                ThreePointArc((0, 10), (0.251108235, 9.996846736), (0.502058108, 9.987388931))
                Line((0.502058108, 9.987388931), (0.502058108, 11.487388931))
            make_face()
            with BuildLine():
                Line((0, 10), (0, 11.487388931))
                Line((0, 11.487388931), (-0.502058108, 11.487388931))
                Line((-0.502058108, 11.487388931), (-0.502058108, 9.987388931))
                ThreePointArc((-0.502058108, 9.987388931), (-0.251108235, 9.996846736), (0, 10))
            make_face()
            with BuildLine():
                ThreePointArc((-2.877607828, 9.57702319), (-2.393156643, 9.709418174), (-1.902669405, 9.817323929))
                Line((-1.902669405, 9.817323929), (-2.261642901, 11.273736656))
                Line((-2.261642901, 11.273736656), (-3.236581325, 11.033435916))
                Line((-3.236581325, 11.033435916), (-2.877607828, 9.57702319))
            make_face()
            with BuildLine():
                ThreePointArc((-5.085921441, 8.610075673), (-4.64723172, 8.854560257), (-4.196820687, 9.076711746))
                Line((-4.196820687, 9.076711746), (-4.893905446, 10.404895784))
                Line((-4.893905446, 10.404895784), (-5.783006199, 9.938259711))
                Line((-5.783006199, 9.938259711), (-5.085921441, 8.610075673))
            make_face()
        extrude(amount=BOSS_EXTRUDE5_DEPTH)


solid = part.part
